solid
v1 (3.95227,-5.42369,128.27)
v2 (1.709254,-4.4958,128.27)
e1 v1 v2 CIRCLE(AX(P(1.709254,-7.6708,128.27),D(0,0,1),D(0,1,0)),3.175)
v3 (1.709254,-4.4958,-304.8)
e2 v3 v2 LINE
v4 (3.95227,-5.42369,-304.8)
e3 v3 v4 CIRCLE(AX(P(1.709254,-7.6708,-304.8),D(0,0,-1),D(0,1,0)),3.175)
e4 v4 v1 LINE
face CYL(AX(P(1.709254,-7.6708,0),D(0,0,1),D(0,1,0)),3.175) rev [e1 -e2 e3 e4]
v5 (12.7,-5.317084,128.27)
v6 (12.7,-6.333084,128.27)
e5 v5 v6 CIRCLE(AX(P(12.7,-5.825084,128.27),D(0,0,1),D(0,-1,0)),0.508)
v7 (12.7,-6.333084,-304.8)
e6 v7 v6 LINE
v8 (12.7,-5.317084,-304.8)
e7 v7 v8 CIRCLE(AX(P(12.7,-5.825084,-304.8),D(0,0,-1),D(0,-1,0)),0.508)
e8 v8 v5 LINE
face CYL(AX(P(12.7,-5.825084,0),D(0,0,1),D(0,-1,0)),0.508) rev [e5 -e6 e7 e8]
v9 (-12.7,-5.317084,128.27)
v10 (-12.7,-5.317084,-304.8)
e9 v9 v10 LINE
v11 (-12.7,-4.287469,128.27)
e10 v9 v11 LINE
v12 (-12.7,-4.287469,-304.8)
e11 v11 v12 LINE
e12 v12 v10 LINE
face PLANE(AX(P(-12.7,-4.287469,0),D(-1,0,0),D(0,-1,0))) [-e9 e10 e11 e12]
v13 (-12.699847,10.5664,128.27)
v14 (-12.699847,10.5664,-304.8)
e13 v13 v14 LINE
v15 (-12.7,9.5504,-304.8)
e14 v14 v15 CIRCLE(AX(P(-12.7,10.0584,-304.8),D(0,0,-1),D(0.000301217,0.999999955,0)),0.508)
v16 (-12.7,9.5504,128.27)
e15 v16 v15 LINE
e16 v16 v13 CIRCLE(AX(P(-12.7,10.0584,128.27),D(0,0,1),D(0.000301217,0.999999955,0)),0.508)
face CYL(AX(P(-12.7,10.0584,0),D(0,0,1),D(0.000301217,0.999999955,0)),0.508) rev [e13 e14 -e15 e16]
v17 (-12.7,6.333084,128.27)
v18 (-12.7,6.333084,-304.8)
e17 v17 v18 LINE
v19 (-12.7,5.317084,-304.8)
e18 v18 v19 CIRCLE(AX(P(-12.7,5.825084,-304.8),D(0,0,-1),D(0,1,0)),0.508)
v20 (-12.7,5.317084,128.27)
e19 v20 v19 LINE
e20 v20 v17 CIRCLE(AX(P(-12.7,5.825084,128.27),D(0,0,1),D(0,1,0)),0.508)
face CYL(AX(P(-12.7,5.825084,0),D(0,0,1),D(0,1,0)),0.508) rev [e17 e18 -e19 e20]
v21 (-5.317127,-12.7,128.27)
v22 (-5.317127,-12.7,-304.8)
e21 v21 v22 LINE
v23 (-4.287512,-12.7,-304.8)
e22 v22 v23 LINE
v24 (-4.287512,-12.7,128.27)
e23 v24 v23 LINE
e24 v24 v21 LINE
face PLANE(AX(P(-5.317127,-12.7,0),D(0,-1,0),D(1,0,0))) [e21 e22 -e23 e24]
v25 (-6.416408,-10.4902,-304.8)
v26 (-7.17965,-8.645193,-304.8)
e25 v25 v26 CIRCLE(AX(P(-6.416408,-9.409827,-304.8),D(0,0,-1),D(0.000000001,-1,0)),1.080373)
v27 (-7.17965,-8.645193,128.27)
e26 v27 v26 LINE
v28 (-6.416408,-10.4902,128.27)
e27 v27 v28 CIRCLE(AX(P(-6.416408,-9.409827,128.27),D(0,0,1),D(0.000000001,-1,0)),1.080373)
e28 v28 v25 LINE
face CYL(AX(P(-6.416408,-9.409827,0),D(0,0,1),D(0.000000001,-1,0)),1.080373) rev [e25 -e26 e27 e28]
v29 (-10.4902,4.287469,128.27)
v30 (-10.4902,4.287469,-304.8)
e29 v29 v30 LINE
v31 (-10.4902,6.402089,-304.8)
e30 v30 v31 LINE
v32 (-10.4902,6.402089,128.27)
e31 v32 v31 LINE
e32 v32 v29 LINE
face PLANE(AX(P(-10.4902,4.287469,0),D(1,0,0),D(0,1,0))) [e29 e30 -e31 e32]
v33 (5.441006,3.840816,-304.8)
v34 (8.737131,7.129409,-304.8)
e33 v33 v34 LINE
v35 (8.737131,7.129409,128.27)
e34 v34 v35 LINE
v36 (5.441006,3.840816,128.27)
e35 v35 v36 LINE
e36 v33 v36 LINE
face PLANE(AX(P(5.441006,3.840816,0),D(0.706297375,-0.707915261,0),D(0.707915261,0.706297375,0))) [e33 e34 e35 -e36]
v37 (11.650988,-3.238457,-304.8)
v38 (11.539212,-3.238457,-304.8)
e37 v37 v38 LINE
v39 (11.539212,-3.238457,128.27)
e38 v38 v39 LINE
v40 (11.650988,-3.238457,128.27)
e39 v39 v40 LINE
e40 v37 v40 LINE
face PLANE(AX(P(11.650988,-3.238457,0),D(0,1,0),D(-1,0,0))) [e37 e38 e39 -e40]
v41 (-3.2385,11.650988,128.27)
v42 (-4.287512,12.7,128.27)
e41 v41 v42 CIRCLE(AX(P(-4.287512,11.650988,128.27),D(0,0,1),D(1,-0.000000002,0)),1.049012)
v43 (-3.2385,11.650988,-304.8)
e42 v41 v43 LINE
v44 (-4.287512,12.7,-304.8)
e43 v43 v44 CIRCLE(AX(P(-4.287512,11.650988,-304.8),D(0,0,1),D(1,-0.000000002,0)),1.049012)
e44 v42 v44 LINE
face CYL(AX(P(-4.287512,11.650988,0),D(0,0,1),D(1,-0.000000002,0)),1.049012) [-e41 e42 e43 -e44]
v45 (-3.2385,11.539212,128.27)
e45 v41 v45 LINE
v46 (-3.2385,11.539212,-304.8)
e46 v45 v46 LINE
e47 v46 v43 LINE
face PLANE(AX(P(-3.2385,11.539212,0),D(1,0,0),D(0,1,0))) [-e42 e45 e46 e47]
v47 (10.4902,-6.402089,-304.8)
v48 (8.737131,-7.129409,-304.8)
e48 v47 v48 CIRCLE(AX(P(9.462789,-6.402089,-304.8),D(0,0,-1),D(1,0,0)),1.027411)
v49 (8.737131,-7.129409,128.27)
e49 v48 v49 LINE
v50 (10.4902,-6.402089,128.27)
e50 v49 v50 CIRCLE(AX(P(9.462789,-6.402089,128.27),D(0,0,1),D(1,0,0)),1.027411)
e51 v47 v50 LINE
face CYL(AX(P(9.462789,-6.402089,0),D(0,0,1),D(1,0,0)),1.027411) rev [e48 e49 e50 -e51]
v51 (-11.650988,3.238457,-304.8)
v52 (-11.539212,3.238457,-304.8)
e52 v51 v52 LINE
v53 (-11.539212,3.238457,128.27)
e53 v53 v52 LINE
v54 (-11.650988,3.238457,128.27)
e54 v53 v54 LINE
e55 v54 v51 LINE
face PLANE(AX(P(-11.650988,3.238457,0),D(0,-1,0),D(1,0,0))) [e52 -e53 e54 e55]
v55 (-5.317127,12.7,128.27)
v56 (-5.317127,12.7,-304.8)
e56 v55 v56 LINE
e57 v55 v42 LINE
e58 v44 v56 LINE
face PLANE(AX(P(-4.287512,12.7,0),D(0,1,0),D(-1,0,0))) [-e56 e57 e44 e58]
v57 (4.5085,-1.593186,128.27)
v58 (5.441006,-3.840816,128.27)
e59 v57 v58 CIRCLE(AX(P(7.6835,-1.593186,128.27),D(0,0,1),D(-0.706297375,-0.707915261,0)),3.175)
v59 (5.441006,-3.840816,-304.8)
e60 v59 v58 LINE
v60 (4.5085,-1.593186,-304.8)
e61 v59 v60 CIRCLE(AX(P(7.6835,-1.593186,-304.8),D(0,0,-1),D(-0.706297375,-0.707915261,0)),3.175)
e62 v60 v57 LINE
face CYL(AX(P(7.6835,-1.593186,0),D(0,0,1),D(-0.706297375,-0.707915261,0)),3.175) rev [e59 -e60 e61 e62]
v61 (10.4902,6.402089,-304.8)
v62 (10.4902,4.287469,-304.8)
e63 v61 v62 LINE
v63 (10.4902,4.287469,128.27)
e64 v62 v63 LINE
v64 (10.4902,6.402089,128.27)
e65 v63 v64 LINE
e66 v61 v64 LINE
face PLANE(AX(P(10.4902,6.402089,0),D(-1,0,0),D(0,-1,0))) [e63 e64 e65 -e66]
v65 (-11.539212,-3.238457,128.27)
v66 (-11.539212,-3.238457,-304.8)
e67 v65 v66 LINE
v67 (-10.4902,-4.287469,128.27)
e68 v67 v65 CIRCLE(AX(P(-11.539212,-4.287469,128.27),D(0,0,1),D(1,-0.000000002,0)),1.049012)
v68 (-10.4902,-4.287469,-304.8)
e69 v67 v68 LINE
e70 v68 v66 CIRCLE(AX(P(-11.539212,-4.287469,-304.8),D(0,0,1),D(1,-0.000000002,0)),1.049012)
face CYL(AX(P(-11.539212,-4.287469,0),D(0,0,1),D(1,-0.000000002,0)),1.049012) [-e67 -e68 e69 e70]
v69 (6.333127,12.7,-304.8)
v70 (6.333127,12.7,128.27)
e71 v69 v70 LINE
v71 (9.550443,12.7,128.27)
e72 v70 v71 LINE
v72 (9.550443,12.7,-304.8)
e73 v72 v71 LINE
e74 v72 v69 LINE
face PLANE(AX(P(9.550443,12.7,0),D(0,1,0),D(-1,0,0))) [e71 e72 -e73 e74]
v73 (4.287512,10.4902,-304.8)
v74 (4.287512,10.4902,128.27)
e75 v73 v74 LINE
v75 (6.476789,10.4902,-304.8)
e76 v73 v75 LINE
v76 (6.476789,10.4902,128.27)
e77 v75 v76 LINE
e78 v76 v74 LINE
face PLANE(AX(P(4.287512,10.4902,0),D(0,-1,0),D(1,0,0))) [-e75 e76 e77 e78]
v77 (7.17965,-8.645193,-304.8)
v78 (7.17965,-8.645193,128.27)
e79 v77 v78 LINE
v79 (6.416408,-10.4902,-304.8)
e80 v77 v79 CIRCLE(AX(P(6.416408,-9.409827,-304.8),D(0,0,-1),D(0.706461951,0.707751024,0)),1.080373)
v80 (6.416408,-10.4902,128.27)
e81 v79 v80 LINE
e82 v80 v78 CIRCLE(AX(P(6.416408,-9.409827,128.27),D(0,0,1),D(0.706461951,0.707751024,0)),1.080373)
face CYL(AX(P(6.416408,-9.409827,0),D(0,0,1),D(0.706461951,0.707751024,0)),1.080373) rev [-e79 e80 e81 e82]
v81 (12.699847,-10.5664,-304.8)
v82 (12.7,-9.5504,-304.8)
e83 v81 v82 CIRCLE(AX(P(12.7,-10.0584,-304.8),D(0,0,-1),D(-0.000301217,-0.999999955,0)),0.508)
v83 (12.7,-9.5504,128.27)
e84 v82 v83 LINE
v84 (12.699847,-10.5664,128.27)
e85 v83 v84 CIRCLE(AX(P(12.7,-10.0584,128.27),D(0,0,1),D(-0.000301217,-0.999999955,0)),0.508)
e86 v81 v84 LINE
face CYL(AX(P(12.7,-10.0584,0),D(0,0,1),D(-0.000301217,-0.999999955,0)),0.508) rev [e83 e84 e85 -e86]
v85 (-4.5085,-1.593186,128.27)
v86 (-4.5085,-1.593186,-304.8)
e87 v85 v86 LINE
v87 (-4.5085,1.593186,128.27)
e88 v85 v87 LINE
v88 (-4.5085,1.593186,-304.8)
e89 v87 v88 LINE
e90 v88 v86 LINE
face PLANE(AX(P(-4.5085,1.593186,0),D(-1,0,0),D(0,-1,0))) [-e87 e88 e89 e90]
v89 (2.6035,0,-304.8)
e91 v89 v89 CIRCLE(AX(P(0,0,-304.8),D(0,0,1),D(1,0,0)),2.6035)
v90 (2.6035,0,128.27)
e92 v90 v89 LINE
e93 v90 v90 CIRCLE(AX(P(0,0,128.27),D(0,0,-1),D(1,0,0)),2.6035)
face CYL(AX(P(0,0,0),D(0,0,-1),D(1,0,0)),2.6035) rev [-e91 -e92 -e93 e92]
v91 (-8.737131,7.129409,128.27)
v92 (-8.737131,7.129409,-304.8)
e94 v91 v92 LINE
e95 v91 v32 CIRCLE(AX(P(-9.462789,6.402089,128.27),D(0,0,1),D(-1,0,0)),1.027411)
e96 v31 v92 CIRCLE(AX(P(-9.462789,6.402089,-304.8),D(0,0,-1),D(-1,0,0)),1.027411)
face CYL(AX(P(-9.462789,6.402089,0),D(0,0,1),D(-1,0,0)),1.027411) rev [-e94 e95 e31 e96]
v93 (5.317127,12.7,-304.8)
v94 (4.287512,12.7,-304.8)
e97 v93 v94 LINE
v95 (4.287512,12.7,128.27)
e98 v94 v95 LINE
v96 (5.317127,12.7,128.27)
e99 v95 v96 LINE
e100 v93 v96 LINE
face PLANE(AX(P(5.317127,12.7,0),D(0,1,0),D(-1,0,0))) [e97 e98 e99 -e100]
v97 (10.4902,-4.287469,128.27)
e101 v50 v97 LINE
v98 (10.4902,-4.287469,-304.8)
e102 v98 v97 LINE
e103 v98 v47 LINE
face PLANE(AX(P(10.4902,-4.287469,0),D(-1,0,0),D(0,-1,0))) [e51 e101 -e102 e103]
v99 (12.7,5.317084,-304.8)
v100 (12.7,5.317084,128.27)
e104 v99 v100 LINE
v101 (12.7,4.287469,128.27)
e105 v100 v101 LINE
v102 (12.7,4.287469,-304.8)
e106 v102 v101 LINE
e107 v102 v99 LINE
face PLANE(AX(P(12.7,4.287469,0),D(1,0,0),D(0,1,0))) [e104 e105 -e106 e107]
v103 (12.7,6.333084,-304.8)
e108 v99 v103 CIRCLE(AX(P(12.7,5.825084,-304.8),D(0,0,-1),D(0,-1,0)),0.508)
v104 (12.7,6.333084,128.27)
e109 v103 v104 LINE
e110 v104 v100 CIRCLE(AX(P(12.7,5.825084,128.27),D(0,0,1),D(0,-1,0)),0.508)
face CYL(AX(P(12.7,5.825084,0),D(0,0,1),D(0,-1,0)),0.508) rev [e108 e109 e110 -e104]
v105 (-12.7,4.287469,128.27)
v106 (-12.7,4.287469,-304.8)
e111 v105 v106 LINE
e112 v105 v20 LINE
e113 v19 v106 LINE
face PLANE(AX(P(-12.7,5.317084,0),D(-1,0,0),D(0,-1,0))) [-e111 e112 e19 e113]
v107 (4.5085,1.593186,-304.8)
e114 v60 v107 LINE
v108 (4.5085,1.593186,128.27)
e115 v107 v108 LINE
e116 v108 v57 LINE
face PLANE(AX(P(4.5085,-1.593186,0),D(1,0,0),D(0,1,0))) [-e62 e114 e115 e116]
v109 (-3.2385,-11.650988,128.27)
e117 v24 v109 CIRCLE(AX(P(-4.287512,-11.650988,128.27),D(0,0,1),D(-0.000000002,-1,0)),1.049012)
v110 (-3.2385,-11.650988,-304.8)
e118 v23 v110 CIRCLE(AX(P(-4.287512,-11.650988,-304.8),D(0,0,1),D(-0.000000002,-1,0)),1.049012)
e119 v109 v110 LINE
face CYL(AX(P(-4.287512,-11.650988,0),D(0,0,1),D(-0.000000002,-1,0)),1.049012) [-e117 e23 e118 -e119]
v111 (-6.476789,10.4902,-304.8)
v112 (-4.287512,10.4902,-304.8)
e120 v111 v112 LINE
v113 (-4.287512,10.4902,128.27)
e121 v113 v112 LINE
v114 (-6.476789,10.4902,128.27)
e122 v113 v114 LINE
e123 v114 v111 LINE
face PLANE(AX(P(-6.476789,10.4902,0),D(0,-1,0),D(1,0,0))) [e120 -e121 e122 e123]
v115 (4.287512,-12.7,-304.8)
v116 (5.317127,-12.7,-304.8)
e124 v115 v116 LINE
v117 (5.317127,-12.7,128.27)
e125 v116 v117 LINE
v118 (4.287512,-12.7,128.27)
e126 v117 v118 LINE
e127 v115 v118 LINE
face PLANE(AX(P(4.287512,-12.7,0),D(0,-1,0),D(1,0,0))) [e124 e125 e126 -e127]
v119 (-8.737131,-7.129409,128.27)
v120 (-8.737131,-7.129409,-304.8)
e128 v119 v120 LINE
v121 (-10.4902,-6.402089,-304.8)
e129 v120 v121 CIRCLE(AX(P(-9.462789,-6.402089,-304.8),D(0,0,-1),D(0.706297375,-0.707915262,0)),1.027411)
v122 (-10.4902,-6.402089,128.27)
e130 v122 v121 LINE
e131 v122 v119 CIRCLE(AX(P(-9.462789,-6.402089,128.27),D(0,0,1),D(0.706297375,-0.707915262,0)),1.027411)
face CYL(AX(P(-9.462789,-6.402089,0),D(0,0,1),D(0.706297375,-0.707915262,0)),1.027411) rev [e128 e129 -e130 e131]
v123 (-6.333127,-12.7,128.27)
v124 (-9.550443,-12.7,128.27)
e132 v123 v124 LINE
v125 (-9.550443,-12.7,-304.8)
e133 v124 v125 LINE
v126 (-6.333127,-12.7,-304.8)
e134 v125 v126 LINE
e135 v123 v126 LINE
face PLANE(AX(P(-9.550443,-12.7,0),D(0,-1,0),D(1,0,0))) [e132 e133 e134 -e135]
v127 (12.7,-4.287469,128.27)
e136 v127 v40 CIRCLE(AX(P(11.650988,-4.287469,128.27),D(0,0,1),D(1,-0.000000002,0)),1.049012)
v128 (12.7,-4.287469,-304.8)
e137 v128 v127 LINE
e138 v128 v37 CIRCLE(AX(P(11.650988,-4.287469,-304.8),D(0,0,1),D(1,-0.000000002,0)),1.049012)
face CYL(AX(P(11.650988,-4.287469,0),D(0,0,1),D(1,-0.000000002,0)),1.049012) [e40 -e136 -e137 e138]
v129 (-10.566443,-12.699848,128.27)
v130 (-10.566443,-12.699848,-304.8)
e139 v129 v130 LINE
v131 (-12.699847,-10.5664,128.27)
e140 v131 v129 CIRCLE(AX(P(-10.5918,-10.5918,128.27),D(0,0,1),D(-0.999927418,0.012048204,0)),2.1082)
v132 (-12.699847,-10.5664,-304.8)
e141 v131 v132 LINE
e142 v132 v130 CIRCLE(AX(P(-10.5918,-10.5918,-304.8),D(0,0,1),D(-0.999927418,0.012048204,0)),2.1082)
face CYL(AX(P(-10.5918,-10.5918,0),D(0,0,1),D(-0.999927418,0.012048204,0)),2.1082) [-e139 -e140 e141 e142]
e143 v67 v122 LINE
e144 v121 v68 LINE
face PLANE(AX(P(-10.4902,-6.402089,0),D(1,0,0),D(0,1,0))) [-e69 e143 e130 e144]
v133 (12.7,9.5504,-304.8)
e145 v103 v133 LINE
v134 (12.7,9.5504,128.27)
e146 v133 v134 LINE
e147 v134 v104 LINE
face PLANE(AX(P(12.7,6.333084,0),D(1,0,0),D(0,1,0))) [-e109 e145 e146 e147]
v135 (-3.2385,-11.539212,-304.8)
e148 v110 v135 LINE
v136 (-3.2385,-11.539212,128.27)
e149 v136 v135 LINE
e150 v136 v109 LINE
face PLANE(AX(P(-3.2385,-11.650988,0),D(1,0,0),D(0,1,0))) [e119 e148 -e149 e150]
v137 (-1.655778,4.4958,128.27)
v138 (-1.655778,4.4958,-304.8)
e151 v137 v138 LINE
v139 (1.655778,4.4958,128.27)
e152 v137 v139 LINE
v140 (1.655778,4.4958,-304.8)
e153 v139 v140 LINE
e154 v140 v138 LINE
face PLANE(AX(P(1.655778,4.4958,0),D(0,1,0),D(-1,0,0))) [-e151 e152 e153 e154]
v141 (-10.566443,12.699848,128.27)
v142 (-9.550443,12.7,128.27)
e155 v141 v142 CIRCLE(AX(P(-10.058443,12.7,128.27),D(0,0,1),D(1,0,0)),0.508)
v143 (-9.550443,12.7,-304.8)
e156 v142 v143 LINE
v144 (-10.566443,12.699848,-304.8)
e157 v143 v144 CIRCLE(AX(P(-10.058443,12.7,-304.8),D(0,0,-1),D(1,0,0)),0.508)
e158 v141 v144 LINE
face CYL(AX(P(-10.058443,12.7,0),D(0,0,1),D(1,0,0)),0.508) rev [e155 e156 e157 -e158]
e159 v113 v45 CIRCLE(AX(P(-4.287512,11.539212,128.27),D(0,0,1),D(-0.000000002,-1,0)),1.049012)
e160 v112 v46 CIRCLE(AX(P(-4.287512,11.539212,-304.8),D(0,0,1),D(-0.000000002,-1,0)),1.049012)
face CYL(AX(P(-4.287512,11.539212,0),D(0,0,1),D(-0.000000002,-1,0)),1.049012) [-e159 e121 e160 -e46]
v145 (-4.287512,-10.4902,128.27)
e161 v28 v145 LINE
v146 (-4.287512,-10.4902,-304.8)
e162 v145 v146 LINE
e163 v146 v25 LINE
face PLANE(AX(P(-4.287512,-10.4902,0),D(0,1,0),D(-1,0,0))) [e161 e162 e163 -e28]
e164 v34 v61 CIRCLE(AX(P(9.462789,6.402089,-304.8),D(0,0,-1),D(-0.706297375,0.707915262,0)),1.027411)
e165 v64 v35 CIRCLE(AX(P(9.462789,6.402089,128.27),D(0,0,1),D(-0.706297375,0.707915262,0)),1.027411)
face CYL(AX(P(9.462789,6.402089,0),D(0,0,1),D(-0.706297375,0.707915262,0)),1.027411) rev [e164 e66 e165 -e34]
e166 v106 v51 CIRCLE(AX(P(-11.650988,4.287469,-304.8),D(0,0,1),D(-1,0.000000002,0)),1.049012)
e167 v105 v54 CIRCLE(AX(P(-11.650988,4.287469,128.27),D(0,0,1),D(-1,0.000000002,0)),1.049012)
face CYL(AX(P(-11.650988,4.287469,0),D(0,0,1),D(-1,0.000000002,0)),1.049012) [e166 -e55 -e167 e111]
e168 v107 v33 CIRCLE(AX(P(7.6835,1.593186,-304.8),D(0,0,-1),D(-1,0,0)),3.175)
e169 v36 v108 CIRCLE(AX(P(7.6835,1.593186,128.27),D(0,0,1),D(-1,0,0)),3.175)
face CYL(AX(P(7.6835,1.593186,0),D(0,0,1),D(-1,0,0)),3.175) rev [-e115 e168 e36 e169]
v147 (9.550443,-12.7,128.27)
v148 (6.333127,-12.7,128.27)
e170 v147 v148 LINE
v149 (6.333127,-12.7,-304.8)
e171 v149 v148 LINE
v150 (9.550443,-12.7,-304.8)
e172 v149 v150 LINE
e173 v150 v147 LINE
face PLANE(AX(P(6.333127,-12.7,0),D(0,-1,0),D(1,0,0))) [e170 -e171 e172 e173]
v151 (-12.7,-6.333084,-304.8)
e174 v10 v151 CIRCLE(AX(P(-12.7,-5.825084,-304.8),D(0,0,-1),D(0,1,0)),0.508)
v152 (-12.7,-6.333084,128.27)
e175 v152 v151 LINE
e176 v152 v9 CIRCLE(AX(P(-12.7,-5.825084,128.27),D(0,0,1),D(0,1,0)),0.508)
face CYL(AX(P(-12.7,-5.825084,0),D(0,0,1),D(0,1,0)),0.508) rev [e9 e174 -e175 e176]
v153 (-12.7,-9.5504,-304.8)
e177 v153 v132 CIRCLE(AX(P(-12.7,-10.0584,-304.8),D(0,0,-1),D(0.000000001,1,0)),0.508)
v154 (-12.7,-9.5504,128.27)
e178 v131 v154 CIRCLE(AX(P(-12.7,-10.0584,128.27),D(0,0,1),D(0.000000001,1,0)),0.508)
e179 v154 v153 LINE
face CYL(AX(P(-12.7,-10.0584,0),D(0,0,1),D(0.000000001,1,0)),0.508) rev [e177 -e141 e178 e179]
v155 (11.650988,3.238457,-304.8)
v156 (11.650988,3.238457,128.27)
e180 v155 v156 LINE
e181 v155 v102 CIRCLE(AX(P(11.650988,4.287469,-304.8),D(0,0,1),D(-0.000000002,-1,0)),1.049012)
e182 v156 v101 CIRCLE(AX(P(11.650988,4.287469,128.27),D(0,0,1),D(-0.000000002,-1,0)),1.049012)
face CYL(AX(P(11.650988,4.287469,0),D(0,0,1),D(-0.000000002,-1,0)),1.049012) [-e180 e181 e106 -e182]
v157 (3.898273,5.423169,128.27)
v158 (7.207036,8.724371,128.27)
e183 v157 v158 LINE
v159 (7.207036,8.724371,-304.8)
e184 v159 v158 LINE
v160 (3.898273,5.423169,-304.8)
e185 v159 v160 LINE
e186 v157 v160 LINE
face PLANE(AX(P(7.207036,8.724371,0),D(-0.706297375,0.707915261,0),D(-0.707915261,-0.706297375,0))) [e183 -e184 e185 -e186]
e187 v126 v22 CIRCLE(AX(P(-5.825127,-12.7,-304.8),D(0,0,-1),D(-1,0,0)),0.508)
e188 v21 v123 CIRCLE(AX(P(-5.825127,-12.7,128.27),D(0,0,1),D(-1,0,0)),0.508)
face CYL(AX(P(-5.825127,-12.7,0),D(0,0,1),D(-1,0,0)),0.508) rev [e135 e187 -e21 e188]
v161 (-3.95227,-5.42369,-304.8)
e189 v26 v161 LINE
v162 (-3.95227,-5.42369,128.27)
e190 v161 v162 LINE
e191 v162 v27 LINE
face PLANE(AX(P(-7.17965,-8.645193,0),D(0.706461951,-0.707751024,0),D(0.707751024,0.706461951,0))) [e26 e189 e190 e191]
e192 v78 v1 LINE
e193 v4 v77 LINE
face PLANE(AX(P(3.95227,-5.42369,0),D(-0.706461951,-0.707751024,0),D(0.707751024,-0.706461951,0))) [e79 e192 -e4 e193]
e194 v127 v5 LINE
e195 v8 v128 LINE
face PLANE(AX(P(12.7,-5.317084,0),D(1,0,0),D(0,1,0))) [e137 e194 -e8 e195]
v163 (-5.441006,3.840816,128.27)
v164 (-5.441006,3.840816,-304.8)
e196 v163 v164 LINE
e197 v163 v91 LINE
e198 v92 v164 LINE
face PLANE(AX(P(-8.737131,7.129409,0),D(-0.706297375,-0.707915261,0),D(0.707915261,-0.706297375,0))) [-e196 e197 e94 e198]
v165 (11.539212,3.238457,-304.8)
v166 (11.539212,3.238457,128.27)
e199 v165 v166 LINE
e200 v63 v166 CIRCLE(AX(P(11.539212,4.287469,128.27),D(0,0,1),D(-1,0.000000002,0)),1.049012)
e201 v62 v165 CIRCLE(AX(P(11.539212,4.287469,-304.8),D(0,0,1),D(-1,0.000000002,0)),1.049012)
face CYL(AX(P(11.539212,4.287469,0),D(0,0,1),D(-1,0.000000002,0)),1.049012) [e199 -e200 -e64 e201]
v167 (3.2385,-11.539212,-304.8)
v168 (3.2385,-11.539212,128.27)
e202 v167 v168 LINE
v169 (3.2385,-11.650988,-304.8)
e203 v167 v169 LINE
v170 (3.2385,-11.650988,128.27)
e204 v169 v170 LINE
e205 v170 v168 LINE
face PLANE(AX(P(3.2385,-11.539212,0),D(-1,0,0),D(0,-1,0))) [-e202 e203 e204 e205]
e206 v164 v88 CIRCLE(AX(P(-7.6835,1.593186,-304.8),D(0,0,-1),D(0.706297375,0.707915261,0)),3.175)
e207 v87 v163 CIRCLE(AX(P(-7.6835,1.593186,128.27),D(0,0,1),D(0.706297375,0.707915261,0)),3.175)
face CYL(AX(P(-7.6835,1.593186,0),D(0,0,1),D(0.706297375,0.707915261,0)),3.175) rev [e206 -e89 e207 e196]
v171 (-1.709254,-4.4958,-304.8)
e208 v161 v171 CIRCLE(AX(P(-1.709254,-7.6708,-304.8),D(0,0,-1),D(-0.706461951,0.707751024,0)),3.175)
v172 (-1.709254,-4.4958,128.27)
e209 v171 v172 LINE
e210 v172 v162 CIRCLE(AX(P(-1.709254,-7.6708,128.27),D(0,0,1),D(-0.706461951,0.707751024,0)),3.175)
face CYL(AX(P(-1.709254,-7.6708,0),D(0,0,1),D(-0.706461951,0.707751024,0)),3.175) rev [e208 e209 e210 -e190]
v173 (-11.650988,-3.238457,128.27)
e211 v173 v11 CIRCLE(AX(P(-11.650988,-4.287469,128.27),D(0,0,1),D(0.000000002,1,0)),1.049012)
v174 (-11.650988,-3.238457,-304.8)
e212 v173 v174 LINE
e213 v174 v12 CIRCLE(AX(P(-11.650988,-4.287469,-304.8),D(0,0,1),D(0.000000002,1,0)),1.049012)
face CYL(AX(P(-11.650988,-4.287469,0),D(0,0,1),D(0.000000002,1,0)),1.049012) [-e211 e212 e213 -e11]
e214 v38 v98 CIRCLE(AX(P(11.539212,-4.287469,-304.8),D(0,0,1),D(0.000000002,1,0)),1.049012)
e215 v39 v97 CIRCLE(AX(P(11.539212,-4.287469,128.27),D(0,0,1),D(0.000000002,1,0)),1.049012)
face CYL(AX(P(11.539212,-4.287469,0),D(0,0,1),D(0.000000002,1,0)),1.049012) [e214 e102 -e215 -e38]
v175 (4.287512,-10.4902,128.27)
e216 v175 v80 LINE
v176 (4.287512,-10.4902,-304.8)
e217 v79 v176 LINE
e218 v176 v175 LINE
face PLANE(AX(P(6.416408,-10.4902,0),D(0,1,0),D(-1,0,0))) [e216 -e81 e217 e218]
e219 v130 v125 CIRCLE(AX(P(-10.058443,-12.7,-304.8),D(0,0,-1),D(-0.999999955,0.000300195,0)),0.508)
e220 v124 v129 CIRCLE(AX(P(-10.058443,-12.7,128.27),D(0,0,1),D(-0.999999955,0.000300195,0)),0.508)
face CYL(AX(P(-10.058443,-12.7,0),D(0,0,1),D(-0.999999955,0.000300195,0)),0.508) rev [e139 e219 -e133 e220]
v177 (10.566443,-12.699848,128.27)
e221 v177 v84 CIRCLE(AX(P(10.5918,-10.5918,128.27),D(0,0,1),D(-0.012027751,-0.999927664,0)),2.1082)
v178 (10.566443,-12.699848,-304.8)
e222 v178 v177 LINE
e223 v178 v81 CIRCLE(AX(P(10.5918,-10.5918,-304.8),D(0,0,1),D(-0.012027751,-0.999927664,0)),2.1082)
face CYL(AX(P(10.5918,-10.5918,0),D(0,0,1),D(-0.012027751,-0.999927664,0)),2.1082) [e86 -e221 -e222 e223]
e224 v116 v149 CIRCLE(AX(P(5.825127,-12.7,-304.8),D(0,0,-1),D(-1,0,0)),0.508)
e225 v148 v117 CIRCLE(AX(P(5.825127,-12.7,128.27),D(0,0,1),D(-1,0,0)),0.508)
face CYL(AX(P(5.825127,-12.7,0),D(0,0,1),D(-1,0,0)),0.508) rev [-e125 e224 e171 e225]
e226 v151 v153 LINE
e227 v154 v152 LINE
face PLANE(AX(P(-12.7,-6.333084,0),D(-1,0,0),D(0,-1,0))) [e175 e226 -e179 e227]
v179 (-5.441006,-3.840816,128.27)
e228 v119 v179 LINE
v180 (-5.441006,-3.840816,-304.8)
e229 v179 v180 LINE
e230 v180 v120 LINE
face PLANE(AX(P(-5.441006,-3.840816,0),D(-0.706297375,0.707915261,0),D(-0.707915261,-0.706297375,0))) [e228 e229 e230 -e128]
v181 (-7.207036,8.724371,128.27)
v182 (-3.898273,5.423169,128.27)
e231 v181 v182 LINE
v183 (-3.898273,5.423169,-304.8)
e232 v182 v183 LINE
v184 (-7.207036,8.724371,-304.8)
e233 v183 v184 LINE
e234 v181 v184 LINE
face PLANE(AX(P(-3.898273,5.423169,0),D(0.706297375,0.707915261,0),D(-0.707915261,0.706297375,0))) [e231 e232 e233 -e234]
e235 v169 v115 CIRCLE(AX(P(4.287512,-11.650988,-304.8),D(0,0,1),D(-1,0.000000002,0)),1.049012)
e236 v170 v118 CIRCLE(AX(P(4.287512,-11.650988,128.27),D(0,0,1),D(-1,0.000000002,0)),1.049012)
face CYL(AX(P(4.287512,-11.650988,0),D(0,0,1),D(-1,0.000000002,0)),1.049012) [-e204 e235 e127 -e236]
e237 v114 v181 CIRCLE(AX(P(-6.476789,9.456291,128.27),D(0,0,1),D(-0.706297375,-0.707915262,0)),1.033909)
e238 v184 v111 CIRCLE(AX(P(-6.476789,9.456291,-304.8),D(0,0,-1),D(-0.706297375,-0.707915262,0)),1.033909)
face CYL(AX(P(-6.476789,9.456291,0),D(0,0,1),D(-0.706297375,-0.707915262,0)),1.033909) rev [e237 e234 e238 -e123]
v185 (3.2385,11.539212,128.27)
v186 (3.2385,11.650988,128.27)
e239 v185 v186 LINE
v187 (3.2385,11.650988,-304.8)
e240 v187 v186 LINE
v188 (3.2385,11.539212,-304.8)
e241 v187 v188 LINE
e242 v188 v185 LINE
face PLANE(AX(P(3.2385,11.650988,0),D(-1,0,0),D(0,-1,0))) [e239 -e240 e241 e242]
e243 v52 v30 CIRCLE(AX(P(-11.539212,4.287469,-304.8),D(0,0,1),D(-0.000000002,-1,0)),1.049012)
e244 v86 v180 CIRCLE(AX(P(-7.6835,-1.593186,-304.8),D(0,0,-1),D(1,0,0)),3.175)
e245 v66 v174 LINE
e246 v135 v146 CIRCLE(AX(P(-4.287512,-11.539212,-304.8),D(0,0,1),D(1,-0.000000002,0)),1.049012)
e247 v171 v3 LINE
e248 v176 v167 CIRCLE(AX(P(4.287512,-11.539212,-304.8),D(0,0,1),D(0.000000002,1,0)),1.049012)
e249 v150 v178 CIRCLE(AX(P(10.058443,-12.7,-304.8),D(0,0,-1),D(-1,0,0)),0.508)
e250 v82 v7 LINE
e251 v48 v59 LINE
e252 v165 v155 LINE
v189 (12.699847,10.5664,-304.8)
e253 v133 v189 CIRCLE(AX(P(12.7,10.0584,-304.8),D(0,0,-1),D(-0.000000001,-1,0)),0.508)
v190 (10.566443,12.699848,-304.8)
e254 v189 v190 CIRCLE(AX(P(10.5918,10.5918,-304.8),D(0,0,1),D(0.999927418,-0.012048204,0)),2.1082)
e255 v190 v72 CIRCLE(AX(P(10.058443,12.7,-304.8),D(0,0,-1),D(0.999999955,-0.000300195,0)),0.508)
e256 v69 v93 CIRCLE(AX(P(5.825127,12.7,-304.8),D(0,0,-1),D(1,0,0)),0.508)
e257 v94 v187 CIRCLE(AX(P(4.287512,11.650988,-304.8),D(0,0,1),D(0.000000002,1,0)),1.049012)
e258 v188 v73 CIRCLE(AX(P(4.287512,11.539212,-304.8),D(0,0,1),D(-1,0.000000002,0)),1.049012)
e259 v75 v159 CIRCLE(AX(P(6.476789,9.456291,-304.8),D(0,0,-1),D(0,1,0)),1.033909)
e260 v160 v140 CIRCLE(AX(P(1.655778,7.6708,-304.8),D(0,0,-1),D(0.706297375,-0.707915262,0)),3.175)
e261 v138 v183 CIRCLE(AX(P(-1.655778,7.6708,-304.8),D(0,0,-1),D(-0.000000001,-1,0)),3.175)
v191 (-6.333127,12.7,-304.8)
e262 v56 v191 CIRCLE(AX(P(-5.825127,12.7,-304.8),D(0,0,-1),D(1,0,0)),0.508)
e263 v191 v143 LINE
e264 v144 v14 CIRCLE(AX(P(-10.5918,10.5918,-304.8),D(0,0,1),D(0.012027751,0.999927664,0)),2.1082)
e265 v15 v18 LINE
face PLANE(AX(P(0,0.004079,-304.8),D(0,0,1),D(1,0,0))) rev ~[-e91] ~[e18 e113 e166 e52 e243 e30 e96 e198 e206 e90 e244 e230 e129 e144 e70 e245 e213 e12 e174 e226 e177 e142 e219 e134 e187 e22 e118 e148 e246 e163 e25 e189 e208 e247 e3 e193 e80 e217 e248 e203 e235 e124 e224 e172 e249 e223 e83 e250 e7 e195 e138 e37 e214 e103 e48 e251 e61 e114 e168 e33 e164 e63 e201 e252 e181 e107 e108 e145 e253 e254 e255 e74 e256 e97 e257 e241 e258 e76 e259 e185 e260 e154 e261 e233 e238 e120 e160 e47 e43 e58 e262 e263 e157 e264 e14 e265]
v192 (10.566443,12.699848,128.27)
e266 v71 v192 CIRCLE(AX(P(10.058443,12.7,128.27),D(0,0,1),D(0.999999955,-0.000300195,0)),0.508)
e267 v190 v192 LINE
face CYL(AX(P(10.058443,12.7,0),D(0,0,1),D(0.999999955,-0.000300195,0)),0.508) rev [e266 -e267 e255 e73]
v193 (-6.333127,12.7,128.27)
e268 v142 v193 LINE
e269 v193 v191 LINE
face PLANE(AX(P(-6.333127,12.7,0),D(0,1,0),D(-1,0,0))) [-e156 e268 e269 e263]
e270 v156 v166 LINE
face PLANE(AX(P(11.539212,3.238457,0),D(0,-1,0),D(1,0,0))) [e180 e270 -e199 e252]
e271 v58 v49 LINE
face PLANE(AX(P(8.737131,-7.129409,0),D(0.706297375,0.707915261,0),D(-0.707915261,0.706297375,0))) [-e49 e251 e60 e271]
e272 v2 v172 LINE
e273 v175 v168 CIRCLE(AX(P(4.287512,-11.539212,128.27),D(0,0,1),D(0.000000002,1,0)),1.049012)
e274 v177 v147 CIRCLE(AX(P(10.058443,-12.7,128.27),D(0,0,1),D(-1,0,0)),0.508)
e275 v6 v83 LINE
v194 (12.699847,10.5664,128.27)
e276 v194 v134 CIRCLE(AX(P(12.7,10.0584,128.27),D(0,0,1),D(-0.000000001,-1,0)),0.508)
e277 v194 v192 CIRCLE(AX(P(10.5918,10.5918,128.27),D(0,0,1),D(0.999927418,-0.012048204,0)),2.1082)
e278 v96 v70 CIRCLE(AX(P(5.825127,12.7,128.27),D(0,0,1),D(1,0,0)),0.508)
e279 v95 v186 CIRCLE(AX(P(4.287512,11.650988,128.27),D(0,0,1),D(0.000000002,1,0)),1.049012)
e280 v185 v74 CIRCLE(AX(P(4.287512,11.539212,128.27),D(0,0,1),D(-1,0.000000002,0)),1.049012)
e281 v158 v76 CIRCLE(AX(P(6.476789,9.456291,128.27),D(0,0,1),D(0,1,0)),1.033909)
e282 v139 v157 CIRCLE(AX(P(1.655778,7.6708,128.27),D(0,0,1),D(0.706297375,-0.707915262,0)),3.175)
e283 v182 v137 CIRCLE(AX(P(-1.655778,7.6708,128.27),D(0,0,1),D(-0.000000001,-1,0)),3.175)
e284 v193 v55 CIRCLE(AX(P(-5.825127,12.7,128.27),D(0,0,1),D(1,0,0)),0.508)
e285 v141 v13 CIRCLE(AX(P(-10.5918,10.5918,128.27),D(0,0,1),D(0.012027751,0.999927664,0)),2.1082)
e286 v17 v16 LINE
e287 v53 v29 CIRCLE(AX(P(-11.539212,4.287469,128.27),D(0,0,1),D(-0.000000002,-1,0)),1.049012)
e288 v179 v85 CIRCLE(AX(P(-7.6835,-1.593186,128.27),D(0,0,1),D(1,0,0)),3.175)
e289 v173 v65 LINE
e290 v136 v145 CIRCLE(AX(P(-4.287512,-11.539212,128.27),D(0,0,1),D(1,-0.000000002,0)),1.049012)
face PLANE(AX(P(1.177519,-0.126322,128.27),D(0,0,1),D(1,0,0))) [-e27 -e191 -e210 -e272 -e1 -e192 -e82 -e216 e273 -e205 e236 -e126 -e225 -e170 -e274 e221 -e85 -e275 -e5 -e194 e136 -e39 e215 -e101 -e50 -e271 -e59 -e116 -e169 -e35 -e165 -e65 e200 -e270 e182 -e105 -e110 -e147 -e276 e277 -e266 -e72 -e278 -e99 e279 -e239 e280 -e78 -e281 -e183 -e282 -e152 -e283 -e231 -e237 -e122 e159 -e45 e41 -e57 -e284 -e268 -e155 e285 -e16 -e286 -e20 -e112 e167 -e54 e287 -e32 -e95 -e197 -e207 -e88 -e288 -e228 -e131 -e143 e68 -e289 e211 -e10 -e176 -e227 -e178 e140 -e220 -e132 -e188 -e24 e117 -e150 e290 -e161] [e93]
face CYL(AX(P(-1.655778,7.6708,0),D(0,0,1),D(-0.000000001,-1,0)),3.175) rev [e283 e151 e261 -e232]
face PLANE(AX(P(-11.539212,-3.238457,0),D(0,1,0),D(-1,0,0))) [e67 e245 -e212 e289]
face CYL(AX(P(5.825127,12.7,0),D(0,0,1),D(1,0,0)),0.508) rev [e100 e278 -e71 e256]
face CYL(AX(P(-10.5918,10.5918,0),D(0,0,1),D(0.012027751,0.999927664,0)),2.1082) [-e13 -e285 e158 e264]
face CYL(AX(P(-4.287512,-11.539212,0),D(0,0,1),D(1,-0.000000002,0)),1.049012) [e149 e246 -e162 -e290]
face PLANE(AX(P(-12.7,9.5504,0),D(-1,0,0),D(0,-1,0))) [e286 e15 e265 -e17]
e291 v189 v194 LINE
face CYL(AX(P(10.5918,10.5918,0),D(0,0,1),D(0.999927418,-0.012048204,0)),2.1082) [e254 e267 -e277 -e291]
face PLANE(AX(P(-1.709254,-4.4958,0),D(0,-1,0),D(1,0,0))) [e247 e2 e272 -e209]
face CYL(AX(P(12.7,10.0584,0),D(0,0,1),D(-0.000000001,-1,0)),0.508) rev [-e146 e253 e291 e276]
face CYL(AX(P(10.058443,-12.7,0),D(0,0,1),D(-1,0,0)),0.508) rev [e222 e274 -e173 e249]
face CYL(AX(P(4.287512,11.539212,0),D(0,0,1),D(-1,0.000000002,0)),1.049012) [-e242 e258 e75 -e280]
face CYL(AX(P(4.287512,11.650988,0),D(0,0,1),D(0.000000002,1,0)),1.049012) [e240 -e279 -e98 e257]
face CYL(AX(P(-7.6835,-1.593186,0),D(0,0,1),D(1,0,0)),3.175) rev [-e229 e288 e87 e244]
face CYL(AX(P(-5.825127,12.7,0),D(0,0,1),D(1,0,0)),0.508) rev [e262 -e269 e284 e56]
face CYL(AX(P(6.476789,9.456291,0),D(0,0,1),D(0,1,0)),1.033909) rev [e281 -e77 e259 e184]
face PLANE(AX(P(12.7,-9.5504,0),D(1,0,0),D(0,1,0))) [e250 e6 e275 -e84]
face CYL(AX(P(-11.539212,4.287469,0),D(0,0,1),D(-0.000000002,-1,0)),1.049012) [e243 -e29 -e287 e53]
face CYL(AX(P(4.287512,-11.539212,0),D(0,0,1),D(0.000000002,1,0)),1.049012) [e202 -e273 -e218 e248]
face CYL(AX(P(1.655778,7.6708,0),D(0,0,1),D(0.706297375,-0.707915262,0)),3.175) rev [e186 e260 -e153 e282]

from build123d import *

# Parameters (mm, degrees)
SKETCH1_R           = 2.6035
BOSS_EXTRUDE1_DEPTH = 304.8
SKETCH2_W           = 49.977266258
SKETCH2_H           = 47.000485055
CUT_EXTRUDE1_DEPTH  = 176.53


with BuildPart() as part:
    # Sketch1 → Boss-Extrude1 (new body, symmetric)
    with BuildSketch(Plane.XY):
        with BuildLine():
            Line((-7.179650497, -8.645192506), (-3.952270251, -5.423690499))
            ThreePointArc((-3.952270251, -5.423690499), (-2.922936451, -4.736929036), (-1.709253557, -4.4958))
            Line((-1.709253557, -4.4958), (1.709253557, -4.4958))
            ThreePointArc((1.709253557, -4.4958), (2.922936451, -4.736929036), (3.952270251, -5.423690499))
            Line((3.952270251, -5.423690499), (7.179650497, -8.645192506))
            ThreePointArc((7.179650497, -8.645192506), (7.41473083, -9.822813117), (6.416408329, -10.4902))
            Line((6.416408329, -10.4902), (4.287512407, -10.4902))
            ThreePointArc((4.287512407, -10.4902), (3.54574862, -10.79744862), (3.2385, -11.539212407))
            Line((3.2385, -11.539212407), (3.2385, -11.650987593))
            ThreePointArc((3.2385, -11.650987593), (3.54574862, -12.39275138), (4.287512407, -12.7))
            Line((4.287512407, -12.7), (5.317126718, -12.7))
            ThreePointArc((5.317126718, -12.7), (5.825126718, -12.192), (6.333126718, -12.7))
            Line((6.333126718, -12.7), (9.550443118, -12.7))
            ThreePointArc((9.550443118, -12.7), (10.058366869, -12.192000006), (10.566443095, -12.699847501))
            ThreePointArc((10.566443095, -12.699847501), (12.082537762, -12.08250727), (12.699846982, -10.566399977))
            ThreePointArc((12.699846982, -10.566399977), (12.192000006, -10.058323491), (12.7, -9.5504))
            Line((12.7, -9.5504), (12.7, -6.3330836))
            ThreePointArc((12.7, -6.3330836), (12.192, -5.8250836), (12.7, -5.3170836))
            Line((12.7, -5.3170836), (12.7, -4.287469289))
            ThreePointArc((12.7, -4.287469289), (12.39275138, -3.545705502), (11.650987593, -3.238456882))
            Line((11.650987593, -3.238456882), (11.539212407, -3.238456882))
            ThreePointArc((11.539212407, -3.238456882), (10.79744862, -3.545705502), (10.4902, -4.287469289))
            Line((10.4902, -4.287469289), (10.4902, -6.402089023))
            ThreePointArc((10.4902, -6.402089023), (9.856505071, -7.351067942), (8.737131347, -7.129408934))
            Line((8.737131347, -7.129408934), (5.441005833, -3.840816462))
            ThreePointArc((5.441005833, -3.840816462), (4.750877967, -2.809883091), (4.5085, -1.593185507))
            Line((4.5085, -1.593185507), (4.5085, 1.593185507))
            ThreePointArc((4.5085, 1.593185507), (4.750877967, 2.809883091), (5.441005833, 3.840816462))
            Line((5.441005833, 3.840816462), (8.737131347, 7.129408934))
            ThreePointArc((8.737131347, 7.129408934), (9.856505071, 7.351067942), (10.4902, 6.402089023))
            Line((10.4902, 6.402089023), (10.4902, 4.287469289))
            ThreePointArc((10.4902, 4.287469289), (10.79744862, 3.545705502), (11.539212407, 3.238456882))
            Line((11.539212407, 3.238456882), (11.650987593, 3.238456882))
            ThreePointArc((11.650987593, 3.238456882), (12.39275138, 3.545705502), (12.7, 4.287469289))
            Line((12.7, 4.287469289), (12.7, 5.3170836))
            ThreePointArc((12.7, 5.3170836), (12.192, 5.8250836), (12.7, 6.3330836))
            Line((12.7, 6.3330836), (12.7, 9.5504))
            ThreePointArc((12.7, 9.5504), (12.192000006, 10.058323491), (12.699846982, 10.566399977))
            ThreePointArc((12.699846982, 10.566399977), (12.082537762, 12.08250727), (10.566443095, 12.699847501))
            ThreePointArc((10.566443095, 12.699847501), (10.058366869, 12.192000006), (9.550443118, 12.7))
            Line((9.550443118, 12.7), (6.333126718, 12.7))
            ThreePointArc((6.333126718, 12.7), (5.825126718, 12.192), (5.317126718, 12.7))
            Line((5.317126718, 12.7), (4.287512407, 12.7))
            ThreePointArc((4.287512407, 12.7), (3.54574862, 12.39275138), (3.2385, 11.650987593))
            Line((3.2385, 11.650987593), (3.2385, 11.539212407))
            ThreePointArc((3.2385, 11.539212407), (3.54574862, 10.79744862), (4.287512407, 10.4902))
            Line((4.287512407, 10.4902), (6.476788598, 10.4902))
            ThreePointArc((6.476788598, 10.4902), (7.432222385, 9.85140422), (7.207036008, 8.724370562))
            Line((7.207036008, 8.724370562), (3.898272566, 5.423169045))
            ThreePointArc((3.898272566, 5.423169045), (2.869120213, 4.736787962), (1.655778399, 4.4958))
            Line((1.655778399, 4.4958), (-1.655778399, 4.4958))
            ThreePointArc((-1.655778399, 4.4958), (-2.869120213, 4.736787962), (-3.898272566, 5.423169045))
            Line((-3.898272566, 5.423169045), (-7.207036008, 8.724370562))
            ThreePointArc((-7.207036008, 8.724370562), (-7.432222385, 9.85140422), (-6.476788598, 10.4902))
            Line((-6.476788598, 10.4902), (-4.287512407, 10.4902))
            ThreePointArc((-4.287512407, 10.4902), (-3.54574862, 10.79744862), (-3.2385, 11.539212407))
            Line((-3.2385, 11.539212407), (-3.2385, 11.650987593))
            ThreePointArc((-3.2385, 11.650987593), (-3.54574862, 12.39275138), (-4.287512407, 12.7))
            Line((-4.287512407, 12.7), (-5.317126718, 12.7))
            ThreePointArc((-5.317126718, 12.7), (-5.825126718, 12.192), (-6.333126718, 12.7))
            Line((-6.333126718, 12.7), (-9.550443118, 12.7))
            ThreePointArc((-9.550443118, 12.7), (-10.058366869, 12.192000006), (-10.566443095, 12.699847501))
            ThreePointArc((-10.566443095, 12.699847501), (-12.082537762, 12.08250727), (-12.699846982, 10.566399977))
            ThreePointArc((-12.699846982, 10.566399977), (-12.192000006, 10.058323491), (-12.7, 9.5504))
            Line((-12.7, 9.5504), (-12.7, 6.3330836))
            ThreePointArc((-12.7, 6.3330836), (-12.192, 5.8250836), (-12.7, 5.3170836))
            Line((-12.7, 5.3170836), (-12.7, 4.287469289))
            ThreePointArc((-12.7, 4.287469289), (-12.39275138, 3.545705502), (-11.650987593, 3.238456882))
            Line((-11.650987593, 3.238456882), (-11.539212407, 3.238456882))
            ThreePointArc((-11.539212407, 3.238456882), (-10.79744862, 3.545705502), (-10.4902, 4.287469289))
            Line((-10.4902, 4.287469289), (-10.4902, 6.402089023))
            ThreePointArc((-10.4902, 6.402089023), (-9.856505071, 7.351067942), (-8.737131347, 7.129408934))
            Line((-8.737131347, 7.129408934), (-5.441005833, 3.840816462))
            ThreePointArc((-5.441005833, 3.840816462), (-4.750877967, 2.809883091), (-4.5085, 1.593185507))
            Line((-4.5085, 1.593185507), (-4.5085, -1.593185507))
            ThreePointArc((-4.5085, -1.593185507), (-4.750877967, -2.809883091), (-5.441005833, -3.840816462))
            Line((-5.441005833, -3.840816462), (-8.737131347, -7.129408934))
            ThreePointArc((-8.737131347, -7.129408934), (-9.856505071, -7.351067942), (-10.4902, -6.402089023))
            Line((-10.4902, -6.402089023), (-10.4902, -4.287469289))
            ThreePointArc((-10.4902, -4.287469289), (-10.79744862, -3.545705502), (-11.539212407, -3.238456882))
            Line((-11.539212407, -3.238456882), (-11.650987593, -3.238456882))
            ThreePointArc((-11.650987593, -3.238456882), (-12.39275138, -3.545705502), (-12.7, -4.287469289))
            Line((-12.7, -4.287469289), (-12.7, -5.3170836))
            ThreePointArc((-12.7, -5.3170836), (-12.192, -5.8250836), (-12.7, -6.3330836))
            Line((-12.7, -6.3330836), (-12.7, -9.5504))
            ThreePointArc((-12.7, -9.5504), (-12.192000006, -10.058323491), (-12.699846982, -10.566399977))
            ThreePointArc((-12.699846982, -10.566399977), (-12.082537762, -12.08250727), (-10.566443095, -12.699847501))
            ThreePointArc((-10.566443095, -12.699847501), (-10.058366869, -12.192000006), (-9.550443118, -12.7))
            Line((-9.550443118, -12.7), (-6.333126718, -12.7))
            ThreePointArc((-6.333126718, -12.7), (-5.825126718, -12.192), (-5.317126718, -12.7))
            Line((-5.317126718, -12.7), (-4.287512407, -12.7))
            ThreePointArc((-4.287512407, -12.7), (-3.54574862, -12.39275138), (-3.2385, -11.650987593))
            Line((-3.2385, -11.650987593), (-3.2385, -11.539212407))
            ThreePointArc((-3.2385, -11.539212407), (-3.54574862, -10.79744862), (-4.287512407, -10.4902))
            Line((-4.287512407, -10.4902), (-6.416408329, -10.4902))
            ThreePointArc((-6.416408329, -10.4902), (-7.41473083, -9.822813117), (-7.179650497, -8.645192506))
        make_face()
        Circle(SKETCH1_R, mode=Mode.SUBTRACT)
    extrude(amount=BOSS_EXTRUDE1_DEPTH, both=True)

    # Sketch2 → Cut-Extrude1 (cut)
    with BuildSketch(Plane.XY.offset(304.8)):
        with Locations((1.177518628, -0.126321905)):
            Rectangle(SKETCH2_W, SKETCH2_H)
    extrude(amount=-CUT_EXTRUDE1_DEPTH, mode=Mode.SUBTRACT)


solid = part.part
